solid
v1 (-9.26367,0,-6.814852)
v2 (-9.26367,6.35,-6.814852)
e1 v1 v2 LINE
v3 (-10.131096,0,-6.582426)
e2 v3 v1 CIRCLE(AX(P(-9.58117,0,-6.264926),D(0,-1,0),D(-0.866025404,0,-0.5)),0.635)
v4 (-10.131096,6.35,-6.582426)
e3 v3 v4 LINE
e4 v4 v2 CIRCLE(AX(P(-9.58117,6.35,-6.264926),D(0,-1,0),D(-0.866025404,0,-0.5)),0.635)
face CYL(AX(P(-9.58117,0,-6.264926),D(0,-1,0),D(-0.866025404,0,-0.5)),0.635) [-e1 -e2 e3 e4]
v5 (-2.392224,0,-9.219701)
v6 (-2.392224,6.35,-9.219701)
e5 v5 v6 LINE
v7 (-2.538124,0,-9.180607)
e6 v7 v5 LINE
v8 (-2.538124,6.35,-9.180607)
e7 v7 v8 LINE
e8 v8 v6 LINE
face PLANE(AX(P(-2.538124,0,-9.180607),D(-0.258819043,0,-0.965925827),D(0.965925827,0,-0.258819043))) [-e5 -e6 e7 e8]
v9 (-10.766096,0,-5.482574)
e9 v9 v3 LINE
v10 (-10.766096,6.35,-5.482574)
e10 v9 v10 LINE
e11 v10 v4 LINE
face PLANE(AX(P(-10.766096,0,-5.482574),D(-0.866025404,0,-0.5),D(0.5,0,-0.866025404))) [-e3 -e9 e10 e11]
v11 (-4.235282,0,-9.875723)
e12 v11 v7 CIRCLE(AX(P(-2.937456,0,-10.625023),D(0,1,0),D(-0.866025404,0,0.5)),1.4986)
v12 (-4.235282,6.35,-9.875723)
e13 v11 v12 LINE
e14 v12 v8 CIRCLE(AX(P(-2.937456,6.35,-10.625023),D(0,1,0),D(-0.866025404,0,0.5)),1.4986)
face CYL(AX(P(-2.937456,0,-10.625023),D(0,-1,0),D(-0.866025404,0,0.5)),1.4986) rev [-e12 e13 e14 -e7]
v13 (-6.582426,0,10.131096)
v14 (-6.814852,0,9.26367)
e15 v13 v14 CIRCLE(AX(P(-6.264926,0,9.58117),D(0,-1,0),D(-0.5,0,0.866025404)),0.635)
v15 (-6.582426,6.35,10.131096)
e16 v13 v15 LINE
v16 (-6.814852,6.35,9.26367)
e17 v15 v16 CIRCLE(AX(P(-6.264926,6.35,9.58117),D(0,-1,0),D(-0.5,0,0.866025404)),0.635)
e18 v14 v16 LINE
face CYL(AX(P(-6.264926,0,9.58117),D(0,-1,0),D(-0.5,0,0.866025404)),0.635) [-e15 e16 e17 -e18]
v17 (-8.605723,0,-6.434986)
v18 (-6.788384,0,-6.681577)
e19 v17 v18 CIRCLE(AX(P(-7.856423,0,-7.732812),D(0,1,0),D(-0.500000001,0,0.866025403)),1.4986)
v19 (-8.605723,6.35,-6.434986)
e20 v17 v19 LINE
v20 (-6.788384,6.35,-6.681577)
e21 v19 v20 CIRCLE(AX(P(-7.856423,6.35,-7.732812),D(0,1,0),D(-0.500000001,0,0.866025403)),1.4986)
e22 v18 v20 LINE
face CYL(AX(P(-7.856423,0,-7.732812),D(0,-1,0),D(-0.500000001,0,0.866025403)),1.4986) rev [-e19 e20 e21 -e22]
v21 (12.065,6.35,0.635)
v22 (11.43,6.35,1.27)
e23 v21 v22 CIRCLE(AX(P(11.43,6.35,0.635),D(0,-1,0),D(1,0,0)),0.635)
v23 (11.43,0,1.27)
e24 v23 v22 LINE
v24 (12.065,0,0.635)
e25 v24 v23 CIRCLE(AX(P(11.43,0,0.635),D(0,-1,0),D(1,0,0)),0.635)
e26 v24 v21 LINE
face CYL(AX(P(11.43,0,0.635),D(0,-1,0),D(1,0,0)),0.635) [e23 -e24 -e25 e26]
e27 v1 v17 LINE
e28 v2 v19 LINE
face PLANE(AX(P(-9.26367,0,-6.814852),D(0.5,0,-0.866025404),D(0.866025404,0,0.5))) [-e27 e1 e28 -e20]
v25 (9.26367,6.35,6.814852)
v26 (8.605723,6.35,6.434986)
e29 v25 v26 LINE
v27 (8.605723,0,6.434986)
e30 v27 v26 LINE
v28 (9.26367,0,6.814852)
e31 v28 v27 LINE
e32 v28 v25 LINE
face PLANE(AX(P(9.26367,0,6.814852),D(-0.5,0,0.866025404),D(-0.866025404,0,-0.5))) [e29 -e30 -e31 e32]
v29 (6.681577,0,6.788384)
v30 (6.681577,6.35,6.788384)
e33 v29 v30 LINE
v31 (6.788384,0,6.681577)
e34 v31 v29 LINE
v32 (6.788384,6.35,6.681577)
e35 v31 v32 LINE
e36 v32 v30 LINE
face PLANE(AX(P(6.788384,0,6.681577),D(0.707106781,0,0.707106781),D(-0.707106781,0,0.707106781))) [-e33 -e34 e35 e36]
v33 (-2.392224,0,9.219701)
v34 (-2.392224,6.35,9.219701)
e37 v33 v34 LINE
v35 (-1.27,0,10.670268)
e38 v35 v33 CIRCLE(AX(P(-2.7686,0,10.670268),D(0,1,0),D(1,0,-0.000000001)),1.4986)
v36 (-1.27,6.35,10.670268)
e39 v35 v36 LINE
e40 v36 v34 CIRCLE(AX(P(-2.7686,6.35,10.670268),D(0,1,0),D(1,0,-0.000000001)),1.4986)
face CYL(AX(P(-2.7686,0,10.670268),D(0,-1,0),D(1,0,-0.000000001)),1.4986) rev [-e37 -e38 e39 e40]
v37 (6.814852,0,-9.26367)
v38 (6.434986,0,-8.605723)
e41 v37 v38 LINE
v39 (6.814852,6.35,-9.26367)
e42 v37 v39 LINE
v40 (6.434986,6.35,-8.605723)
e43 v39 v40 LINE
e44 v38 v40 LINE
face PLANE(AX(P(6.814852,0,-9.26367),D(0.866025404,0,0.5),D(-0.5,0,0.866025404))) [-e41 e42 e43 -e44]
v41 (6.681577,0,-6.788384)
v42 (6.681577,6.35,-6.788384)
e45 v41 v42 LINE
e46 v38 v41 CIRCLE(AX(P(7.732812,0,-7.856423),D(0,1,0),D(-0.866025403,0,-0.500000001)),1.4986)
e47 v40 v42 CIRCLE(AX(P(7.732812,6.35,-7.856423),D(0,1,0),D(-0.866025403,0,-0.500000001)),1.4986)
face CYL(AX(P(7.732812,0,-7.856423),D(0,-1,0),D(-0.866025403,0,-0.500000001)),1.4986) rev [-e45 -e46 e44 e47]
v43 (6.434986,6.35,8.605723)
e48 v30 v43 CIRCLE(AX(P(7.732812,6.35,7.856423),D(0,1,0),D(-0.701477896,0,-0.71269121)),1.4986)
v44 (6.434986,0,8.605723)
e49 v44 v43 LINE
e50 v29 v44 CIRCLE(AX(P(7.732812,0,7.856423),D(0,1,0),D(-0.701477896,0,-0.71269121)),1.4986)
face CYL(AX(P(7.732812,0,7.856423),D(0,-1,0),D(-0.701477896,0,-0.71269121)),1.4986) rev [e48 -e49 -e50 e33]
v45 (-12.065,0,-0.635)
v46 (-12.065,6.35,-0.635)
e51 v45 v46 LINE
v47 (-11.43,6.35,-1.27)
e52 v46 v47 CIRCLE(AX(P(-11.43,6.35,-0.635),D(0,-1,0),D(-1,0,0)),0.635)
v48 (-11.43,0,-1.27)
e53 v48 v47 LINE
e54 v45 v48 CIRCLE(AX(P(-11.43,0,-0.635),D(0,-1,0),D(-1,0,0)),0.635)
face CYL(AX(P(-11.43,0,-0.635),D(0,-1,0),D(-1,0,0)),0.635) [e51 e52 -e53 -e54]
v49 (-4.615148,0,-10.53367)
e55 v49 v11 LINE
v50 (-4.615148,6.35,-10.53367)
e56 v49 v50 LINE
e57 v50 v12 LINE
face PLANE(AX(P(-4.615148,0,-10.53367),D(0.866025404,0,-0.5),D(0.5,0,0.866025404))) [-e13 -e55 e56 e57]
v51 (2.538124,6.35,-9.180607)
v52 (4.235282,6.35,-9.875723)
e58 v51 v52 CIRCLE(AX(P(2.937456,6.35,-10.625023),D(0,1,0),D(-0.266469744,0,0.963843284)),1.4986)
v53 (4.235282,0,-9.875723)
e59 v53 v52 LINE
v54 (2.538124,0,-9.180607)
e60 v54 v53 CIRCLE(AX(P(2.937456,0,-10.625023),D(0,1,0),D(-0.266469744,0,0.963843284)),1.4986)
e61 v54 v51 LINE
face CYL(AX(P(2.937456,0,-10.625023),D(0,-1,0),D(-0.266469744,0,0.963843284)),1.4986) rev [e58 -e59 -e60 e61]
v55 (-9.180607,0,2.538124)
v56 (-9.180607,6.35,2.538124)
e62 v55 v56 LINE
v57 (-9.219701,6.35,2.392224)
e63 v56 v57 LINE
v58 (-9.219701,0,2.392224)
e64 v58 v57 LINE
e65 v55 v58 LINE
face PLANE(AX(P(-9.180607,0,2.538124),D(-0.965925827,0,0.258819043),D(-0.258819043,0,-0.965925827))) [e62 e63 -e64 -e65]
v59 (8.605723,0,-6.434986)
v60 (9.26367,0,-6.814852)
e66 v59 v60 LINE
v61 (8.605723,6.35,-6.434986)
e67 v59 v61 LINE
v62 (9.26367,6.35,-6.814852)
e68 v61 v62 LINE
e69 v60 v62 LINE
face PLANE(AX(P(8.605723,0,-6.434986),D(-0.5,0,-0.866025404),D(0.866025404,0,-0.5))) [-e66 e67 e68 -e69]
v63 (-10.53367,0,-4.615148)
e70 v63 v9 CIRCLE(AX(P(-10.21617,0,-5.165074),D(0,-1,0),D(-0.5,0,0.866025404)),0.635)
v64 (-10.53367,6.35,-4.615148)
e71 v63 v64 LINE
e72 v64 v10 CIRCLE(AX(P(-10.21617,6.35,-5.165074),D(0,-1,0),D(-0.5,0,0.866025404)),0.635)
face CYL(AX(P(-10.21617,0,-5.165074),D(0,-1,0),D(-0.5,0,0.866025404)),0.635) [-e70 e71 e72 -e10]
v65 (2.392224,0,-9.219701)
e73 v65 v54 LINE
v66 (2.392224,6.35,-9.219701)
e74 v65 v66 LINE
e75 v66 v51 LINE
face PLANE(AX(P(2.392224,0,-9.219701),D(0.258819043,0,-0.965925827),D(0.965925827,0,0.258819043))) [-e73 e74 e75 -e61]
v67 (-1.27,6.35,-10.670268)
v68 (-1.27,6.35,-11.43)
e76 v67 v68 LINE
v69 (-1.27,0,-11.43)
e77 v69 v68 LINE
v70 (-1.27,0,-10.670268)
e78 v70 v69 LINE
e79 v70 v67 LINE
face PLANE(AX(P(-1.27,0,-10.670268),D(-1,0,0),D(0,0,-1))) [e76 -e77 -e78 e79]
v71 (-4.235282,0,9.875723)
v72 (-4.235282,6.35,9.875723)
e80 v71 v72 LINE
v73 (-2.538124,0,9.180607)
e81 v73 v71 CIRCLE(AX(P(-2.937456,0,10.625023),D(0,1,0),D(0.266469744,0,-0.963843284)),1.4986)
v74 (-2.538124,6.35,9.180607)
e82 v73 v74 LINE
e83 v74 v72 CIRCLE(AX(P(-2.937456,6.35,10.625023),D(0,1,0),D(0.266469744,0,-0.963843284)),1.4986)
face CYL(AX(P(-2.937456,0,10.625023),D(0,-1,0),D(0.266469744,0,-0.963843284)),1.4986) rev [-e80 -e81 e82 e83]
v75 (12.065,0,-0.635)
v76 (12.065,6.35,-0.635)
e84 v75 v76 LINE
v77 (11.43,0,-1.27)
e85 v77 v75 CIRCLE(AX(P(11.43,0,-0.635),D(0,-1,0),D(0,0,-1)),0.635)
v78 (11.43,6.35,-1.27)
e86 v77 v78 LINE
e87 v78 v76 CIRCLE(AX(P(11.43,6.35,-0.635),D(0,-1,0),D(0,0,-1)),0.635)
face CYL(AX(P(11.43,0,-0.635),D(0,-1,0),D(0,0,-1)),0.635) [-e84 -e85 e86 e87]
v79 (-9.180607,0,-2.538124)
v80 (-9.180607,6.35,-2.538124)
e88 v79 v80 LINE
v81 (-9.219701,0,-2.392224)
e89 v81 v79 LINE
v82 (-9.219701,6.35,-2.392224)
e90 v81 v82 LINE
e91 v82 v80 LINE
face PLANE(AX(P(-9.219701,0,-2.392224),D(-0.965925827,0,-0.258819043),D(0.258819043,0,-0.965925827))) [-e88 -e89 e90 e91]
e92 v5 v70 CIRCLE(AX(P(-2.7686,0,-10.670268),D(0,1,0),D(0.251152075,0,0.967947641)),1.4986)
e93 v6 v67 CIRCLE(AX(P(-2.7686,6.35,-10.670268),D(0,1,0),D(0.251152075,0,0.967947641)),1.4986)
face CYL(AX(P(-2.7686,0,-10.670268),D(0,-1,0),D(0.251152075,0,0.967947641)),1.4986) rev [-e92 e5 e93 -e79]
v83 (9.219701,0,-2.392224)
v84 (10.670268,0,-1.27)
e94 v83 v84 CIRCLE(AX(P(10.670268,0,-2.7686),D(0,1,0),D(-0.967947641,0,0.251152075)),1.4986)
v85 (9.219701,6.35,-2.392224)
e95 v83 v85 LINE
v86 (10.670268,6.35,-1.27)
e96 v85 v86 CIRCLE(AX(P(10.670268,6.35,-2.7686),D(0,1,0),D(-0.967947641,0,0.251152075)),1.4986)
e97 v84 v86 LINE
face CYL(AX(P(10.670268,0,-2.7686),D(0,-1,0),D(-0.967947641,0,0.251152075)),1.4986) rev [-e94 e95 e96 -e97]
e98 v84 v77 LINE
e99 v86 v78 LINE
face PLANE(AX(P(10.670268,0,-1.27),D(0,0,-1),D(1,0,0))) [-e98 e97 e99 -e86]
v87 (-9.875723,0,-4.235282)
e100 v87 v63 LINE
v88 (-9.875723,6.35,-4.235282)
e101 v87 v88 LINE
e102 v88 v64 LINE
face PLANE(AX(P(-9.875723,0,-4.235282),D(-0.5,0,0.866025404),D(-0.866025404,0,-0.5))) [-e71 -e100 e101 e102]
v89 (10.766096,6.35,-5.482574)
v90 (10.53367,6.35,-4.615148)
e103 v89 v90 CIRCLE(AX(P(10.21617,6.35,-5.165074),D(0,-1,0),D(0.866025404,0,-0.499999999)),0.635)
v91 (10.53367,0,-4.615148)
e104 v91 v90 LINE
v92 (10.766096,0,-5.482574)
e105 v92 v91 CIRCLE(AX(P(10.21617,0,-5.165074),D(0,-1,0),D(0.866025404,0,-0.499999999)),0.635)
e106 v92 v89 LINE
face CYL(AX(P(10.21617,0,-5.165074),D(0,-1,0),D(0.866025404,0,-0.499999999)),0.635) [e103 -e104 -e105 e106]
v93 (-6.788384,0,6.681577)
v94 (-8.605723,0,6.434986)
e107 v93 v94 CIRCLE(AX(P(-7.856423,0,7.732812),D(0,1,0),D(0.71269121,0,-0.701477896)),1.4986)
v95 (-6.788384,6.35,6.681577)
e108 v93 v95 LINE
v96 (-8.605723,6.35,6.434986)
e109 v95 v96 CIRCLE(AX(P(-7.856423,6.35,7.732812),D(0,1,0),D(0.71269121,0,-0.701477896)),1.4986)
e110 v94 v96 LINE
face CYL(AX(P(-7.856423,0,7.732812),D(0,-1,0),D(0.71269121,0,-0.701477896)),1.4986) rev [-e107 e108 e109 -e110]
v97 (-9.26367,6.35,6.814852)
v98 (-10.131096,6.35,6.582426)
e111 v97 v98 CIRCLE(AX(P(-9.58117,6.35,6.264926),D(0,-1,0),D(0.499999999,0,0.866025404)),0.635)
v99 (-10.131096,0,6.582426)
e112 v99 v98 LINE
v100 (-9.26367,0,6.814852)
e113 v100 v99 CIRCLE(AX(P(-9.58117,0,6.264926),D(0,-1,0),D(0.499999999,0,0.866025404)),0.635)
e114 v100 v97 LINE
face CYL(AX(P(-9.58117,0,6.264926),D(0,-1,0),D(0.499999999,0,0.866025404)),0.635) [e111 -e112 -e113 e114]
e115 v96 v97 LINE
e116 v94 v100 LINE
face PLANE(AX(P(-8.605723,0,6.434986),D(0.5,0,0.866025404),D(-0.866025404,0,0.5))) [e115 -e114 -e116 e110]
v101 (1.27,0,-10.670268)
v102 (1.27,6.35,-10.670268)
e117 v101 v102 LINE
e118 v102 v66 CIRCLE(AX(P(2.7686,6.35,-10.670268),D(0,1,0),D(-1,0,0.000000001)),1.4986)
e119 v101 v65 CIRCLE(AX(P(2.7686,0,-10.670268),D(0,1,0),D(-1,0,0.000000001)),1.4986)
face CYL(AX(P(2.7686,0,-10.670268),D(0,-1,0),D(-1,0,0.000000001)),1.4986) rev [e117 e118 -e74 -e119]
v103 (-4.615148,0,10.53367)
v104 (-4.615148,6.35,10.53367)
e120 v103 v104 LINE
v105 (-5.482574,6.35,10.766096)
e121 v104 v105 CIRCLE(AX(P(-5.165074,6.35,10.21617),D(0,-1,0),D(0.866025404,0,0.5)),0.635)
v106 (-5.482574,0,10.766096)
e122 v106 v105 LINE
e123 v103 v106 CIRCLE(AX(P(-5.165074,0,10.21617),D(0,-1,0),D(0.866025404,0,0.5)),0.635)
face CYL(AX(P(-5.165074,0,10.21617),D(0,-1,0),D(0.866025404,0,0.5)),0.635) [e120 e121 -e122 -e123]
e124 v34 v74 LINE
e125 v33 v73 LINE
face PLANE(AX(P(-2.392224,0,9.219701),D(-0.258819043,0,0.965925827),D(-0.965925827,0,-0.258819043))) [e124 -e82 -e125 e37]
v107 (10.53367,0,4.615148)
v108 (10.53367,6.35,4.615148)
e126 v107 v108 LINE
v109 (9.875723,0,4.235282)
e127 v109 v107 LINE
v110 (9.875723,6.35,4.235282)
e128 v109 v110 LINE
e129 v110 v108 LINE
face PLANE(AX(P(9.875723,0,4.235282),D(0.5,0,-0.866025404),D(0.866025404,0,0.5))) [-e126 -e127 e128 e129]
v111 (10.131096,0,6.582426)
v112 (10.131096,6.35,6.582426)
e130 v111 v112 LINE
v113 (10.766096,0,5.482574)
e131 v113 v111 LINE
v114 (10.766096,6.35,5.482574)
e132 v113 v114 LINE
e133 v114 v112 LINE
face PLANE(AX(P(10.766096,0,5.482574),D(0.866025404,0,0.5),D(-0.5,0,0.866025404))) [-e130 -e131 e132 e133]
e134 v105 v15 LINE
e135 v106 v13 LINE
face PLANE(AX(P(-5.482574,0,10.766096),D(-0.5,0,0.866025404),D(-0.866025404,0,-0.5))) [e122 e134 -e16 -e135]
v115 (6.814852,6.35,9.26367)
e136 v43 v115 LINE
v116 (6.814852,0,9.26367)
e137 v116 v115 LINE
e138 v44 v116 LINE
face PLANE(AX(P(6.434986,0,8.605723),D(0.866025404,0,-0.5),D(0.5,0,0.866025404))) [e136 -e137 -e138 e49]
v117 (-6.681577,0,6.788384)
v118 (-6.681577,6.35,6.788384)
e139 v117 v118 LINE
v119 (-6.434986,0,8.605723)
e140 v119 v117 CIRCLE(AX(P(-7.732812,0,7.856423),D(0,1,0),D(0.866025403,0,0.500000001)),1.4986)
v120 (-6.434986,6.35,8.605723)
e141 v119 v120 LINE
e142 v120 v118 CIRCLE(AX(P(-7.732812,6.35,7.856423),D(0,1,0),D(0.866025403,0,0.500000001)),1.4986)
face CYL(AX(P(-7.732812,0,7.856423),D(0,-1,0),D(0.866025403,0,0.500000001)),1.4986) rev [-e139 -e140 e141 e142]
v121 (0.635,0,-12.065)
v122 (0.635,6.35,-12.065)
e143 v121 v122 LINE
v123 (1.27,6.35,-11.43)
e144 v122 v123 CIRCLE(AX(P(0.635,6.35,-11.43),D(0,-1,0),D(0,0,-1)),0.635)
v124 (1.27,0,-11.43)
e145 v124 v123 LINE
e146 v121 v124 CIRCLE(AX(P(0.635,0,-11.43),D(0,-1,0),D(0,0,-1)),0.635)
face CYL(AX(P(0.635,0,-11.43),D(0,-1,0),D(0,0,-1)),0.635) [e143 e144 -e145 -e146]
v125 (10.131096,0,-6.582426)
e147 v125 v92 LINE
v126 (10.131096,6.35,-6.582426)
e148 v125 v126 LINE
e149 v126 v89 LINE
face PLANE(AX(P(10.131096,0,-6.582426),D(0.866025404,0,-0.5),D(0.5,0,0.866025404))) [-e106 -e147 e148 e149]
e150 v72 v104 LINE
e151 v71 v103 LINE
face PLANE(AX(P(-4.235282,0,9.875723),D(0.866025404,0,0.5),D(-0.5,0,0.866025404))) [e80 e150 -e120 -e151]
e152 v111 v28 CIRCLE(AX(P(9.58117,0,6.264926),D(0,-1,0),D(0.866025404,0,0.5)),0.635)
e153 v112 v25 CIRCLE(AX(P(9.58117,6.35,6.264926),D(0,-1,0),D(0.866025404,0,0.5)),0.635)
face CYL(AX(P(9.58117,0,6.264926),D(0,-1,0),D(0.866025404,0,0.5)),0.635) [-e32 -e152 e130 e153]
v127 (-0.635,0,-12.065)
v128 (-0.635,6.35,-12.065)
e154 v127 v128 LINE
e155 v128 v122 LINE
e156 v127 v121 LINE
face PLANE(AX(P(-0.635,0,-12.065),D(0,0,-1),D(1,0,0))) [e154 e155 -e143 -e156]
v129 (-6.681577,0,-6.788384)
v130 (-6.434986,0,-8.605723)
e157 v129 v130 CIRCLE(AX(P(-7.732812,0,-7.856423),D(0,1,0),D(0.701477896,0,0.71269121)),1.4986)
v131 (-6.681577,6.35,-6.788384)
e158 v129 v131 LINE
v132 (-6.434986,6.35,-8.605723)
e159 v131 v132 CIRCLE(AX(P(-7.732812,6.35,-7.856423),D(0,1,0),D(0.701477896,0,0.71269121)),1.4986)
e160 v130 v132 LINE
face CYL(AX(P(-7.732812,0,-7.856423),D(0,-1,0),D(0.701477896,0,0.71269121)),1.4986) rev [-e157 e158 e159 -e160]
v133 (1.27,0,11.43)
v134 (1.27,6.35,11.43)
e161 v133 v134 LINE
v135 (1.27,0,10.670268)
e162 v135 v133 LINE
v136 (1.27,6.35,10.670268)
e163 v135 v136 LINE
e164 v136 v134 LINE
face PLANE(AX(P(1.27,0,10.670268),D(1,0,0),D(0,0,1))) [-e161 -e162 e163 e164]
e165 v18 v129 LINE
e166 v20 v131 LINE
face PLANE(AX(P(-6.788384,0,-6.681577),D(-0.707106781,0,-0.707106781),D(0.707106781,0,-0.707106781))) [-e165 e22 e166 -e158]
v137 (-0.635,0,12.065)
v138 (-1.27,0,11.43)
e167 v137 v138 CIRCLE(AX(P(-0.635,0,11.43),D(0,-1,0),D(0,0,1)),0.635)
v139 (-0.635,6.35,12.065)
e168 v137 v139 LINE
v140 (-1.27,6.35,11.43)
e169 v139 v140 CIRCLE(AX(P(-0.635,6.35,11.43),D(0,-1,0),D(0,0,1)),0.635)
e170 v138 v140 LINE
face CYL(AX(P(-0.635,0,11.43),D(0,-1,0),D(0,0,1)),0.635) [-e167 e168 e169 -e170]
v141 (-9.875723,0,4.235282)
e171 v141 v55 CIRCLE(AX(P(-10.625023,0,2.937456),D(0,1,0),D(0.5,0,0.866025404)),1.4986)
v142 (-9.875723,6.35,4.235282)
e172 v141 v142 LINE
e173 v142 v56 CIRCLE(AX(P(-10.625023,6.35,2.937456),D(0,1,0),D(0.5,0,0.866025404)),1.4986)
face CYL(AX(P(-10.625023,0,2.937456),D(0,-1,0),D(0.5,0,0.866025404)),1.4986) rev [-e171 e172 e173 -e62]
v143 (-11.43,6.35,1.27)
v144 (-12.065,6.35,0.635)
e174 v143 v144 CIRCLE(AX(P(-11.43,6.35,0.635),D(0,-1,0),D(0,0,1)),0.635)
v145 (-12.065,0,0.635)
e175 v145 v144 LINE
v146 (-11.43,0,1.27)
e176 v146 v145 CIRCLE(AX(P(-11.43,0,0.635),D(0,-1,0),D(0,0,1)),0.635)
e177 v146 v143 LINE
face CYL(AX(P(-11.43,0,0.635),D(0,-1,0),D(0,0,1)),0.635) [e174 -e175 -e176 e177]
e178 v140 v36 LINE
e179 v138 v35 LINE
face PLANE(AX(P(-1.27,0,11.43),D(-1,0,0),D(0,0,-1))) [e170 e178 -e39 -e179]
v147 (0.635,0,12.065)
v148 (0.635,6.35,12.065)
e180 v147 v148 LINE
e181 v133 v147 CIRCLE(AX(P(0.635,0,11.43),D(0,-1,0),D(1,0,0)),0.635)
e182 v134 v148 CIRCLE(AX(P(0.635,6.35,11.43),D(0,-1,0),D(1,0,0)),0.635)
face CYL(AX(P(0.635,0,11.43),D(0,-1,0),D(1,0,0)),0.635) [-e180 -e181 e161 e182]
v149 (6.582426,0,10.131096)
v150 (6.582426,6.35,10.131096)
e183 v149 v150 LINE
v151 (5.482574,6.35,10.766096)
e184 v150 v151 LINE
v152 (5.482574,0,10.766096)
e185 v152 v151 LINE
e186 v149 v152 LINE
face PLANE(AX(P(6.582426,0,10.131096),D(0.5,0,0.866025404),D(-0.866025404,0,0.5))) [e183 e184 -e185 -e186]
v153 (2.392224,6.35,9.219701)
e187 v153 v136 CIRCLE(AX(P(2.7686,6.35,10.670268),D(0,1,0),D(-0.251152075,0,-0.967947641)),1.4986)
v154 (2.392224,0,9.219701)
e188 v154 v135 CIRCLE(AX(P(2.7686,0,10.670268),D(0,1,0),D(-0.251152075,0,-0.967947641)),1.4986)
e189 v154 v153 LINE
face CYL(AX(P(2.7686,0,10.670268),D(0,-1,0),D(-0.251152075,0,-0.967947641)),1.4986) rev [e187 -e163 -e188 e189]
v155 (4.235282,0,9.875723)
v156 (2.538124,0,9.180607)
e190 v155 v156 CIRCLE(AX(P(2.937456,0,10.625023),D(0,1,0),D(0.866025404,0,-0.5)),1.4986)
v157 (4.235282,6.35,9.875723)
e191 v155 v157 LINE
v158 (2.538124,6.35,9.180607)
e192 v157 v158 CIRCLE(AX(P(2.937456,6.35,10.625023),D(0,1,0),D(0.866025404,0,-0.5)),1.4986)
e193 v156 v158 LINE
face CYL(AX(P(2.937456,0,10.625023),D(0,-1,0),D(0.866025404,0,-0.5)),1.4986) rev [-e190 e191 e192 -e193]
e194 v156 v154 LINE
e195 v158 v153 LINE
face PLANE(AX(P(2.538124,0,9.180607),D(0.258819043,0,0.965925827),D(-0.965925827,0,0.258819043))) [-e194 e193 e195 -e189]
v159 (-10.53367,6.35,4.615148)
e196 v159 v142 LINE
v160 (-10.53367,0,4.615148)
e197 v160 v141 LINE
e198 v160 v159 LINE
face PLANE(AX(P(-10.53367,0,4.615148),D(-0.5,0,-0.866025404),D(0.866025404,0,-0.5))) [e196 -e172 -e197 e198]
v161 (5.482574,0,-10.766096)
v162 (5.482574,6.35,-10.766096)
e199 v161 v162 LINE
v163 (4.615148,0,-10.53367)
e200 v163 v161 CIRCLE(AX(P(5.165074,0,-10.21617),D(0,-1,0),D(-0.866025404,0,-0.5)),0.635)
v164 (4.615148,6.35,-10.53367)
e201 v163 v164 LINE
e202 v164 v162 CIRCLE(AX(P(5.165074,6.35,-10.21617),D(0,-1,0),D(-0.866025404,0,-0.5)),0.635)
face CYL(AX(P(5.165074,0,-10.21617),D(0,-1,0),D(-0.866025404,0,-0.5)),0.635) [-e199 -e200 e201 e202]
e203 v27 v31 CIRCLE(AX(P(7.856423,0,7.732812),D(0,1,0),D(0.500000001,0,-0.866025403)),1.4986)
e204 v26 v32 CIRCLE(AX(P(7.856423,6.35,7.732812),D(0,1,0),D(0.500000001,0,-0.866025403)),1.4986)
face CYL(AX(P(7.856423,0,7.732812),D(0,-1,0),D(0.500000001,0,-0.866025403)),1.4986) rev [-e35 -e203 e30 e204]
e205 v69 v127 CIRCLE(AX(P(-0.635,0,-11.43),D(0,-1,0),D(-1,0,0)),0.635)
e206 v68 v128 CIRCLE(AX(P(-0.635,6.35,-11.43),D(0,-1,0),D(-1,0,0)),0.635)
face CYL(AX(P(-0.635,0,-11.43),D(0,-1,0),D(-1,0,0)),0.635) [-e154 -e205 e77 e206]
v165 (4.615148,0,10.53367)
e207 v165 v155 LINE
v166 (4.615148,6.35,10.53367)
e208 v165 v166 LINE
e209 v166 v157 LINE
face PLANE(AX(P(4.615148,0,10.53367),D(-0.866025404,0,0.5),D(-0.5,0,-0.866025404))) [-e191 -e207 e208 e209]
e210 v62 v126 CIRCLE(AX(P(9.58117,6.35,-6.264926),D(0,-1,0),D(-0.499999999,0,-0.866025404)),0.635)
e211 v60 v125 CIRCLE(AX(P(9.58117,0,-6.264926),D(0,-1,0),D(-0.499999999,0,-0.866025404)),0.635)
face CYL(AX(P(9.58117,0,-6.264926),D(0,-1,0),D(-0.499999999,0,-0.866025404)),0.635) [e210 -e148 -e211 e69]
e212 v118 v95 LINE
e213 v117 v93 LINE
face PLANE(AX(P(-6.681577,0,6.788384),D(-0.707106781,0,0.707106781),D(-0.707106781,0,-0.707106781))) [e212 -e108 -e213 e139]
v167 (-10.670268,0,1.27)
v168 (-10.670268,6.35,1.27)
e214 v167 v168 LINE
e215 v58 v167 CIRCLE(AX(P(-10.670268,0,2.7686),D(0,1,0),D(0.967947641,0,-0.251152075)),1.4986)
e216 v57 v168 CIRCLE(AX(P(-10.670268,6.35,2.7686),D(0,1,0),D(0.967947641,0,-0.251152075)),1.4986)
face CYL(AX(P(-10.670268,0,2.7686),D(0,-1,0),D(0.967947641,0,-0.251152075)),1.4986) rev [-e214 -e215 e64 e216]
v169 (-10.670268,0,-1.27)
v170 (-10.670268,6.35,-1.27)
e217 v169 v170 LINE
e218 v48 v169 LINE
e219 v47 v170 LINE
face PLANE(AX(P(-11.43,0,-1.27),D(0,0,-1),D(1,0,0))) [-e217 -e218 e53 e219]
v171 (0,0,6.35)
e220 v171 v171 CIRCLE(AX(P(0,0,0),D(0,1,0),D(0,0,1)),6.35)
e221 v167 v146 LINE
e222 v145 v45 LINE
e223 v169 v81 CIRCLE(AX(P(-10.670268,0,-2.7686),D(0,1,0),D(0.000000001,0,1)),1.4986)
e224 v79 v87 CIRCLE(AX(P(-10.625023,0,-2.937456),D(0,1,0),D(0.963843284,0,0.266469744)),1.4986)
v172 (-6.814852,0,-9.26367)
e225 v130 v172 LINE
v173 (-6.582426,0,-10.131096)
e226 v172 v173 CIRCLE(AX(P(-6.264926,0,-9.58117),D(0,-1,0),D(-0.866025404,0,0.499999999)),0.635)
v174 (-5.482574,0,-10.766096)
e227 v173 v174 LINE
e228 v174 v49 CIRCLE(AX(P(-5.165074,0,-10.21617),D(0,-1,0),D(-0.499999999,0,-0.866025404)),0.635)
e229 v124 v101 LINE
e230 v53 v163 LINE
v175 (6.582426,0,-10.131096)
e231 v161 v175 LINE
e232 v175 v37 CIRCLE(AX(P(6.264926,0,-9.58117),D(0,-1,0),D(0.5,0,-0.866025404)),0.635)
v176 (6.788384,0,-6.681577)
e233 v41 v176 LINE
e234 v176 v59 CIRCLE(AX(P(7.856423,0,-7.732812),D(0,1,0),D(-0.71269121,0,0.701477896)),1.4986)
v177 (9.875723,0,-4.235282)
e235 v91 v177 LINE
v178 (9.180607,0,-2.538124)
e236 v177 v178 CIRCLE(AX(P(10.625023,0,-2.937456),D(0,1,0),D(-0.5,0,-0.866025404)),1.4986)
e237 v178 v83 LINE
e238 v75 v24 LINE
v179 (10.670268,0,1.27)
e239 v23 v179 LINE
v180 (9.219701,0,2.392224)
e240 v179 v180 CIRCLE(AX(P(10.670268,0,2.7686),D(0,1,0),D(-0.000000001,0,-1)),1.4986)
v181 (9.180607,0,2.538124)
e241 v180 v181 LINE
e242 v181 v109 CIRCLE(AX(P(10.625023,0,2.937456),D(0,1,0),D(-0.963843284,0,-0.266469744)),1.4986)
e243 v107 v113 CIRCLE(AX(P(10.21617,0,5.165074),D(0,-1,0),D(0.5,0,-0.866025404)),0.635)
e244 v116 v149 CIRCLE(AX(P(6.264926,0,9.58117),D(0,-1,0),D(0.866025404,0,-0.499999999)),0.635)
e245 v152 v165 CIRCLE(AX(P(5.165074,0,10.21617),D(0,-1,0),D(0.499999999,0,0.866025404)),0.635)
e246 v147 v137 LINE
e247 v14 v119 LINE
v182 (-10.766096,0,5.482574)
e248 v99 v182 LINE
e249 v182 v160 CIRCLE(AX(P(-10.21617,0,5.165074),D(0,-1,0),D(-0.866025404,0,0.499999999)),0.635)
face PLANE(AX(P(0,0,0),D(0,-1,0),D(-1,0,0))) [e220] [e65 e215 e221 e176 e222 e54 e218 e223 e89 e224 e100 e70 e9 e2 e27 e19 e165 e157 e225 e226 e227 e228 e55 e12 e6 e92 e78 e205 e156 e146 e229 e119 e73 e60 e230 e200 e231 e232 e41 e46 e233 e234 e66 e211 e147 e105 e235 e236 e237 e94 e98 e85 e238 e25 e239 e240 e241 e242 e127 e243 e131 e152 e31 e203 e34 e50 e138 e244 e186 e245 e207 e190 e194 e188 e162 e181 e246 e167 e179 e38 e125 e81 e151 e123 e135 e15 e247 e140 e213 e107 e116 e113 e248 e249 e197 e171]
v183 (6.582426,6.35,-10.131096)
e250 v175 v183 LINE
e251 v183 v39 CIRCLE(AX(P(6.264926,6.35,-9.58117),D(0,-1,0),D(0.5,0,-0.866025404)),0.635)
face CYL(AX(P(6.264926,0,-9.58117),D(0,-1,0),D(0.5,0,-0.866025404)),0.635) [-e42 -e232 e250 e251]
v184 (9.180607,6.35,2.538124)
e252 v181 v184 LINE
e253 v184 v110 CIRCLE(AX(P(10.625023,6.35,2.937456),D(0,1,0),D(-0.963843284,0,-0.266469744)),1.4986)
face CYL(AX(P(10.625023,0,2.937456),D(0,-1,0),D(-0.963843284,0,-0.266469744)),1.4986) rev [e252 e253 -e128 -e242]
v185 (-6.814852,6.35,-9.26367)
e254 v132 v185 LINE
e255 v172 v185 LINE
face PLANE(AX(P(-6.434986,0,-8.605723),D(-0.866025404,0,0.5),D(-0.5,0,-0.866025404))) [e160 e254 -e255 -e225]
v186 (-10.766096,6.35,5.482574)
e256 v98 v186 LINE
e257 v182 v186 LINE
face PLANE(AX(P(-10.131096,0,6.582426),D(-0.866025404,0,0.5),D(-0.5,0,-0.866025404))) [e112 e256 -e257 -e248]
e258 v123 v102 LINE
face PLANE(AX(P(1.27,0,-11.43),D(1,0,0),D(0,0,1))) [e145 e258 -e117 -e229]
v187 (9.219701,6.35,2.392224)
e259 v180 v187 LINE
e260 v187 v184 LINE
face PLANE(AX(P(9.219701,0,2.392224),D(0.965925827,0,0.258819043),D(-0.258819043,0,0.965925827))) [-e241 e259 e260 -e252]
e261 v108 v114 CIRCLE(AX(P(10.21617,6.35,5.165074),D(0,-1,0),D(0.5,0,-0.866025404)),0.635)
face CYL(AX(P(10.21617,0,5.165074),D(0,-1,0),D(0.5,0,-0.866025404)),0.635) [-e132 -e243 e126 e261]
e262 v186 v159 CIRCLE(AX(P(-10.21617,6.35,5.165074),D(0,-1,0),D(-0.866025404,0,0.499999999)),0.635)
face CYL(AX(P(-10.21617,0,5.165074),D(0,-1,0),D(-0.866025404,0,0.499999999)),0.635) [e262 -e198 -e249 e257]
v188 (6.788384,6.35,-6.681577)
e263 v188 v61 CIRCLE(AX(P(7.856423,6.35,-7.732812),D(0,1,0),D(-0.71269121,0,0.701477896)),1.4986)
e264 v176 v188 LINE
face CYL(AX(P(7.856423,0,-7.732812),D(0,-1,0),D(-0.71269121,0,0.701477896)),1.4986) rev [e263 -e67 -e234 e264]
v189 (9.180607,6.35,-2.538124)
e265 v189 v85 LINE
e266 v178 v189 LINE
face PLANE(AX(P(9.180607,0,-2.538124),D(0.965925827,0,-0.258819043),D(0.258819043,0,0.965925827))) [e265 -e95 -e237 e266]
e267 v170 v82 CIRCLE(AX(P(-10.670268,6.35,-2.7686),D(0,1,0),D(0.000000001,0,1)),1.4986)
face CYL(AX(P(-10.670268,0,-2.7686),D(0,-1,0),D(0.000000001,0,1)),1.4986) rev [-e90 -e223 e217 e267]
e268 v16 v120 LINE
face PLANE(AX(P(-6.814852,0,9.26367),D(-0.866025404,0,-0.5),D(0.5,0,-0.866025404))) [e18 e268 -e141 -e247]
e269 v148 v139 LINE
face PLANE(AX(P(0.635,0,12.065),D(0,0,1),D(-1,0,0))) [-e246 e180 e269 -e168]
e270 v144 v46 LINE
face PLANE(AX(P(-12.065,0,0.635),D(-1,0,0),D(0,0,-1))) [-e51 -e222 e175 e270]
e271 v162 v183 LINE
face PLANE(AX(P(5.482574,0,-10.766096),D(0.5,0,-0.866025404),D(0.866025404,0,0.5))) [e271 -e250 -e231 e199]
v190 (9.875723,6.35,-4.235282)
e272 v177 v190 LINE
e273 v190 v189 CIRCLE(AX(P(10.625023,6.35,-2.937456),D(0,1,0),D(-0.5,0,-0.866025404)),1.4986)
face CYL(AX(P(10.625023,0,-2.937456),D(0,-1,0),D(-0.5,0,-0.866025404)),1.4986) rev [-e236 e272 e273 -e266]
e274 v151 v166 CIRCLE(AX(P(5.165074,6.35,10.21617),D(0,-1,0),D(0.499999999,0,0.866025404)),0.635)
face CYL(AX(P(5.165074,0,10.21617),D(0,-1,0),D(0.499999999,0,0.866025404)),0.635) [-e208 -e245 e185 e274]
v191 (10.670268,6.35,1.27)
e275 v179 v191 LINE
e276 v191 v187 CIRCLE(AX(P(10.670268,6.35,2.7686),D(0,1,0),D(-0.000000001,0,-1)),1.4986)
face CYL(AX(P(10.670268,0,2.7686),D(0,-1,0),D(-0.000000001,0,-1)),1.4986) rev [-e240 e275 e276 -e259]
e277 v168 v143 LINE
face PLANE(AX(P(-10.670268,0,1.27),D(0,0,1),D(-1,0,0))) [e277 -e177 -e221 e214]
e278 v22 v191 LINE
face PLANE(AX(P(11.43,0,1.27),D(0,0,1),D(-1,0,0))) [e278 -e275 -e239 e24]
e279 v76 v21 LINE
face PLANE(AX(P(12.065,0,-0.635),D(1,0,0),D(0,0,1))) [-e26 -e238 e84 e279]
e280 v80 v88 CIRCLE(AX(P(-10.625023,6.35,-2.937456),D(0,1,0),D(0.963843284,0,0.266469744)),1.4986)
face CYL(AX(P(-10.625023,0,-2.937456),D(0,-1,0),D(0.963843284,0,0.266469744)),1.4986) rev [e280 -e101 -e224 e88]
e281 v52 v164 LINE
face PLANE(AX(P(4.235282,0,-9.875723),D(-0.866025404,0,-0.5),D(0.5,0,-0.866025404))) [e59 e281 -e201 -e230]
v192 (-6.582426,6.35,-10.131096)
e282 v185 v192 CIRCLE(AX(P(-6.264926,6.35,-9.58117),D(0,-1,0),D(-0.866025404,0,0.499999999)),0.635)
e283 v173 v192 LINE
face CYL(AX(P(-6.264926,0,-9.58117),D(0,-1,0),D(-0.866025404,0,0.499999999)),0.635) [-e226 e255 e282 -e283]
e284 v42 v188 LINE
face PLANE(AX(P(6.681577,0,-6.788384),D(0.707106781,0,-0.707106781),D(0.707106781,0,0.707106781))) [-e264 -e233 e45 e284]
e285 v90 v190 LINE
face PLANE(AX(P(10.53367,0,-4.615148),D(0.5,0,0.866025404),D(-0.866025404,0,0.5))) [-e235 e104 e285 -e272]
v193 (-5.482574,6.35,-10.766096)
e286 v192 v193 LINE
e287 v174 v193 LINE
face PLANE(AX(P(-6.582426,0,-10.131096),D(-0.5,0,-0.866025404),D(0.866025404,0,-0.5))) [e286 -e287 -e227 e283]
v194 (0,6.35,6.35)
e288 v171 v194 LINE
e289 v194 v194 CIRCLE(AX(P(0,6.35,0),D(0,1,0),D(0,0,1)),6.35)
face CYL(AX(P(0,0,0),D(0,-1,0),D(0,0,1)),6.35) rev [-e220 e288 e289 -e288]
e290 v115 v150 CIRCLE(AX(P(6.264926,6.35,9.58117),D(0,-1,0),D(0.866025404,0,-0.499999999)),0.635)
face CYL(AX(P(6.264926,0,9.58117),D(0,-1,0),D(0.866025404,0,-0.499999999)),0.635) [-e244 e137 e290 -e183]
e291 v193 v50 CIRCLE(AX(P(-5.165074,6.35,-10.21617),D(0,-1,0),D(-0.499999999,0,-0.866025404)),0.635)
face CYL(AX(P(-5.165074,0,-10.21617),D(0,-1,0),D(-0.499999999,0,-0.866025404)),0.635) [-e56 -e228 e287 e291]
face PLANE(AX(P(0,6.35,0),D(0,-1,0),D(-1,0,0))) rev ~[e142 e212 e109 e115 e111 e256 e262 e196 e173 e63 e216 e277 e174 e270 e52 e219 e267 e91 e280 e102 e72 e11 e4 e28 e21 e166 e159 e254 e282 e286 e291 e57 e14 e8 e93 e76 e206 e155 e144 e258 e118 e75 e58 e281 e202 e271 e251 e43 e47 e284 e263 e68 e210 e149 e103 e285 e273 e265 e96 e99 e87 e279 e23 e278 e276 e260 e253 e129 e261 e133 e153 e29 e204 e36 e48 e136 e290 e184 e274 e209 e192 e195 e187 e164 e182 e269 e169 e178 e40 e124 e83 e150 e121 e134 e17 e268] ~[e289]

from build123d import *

# Parameters (mm, degrees)
SKETCH1_R           = 6.35
BOSS_EXTRUDE1_DEPTH = 6.35


with BuildPart() as part:
    # Sketch1 → Boss-Extrude1 (new body)
    with BuildSketch(Plane(origin=(0, 0, 0), x_dir=(1, 0, 0), z_dir=(0, 1, 0))):
        with BuildLine():
            Line((-1.27, 10.670267616), (-1.27, 11.43))
            ThreePointArc((-1.27, 11.43), (-1.084012806, 11.879012806), (-0.635, 12.065))
            Line((-0.635, 12.065), (0.635, 12.065))
            ThreePointArc((0.635, 12.065), (1.084012806, 11.879012806), (1.27, 11.43))
            Line((1.27, 11.43), (1.27, 10.670267616))
            ThreePointArc((1.27, 10.670267616), (1.583306834, 9.753271395), (2.392223502, 9.219701281))
            Line((2.392223502, 9.219701281), (2.538124316, 9.180607276))
            ThreePointArc((2.538124316, 9.180607276), (3.505451757, 9.238234215), (4.235281545, 9.875722821))
            Line((4.235281545, 9.875722821), (4.615147737, 10.533670365))
            ThreePointArc((4.615147737, 10.533670365), (5.000723775, 10.829533265), (5.482573869, 10.766096497))
            Line((5.482573869, 10.766096497), (6.582426131, 10.131096497))
            ThreePointArc((6.582426131, 10.131096497), (6.878289031, 9.745520459), (6.814852263, 9.263670365))
            Line((6.814852263, 9.263670365), (6.434986071, 8.605722821))
            ThreePointArc((6.434986071, 8.605722821), (6.247819637, 7.654927381), (6.681576965, 6.788383774))
            Line((6.681576965, 6.788383774), (6.788383774, 6.681576965))
            ThreePointArc((6.788383774, 6.681576965), (7.654927381, 6.247819637), (8.605722821, 6.434986071))
            Line((8.605722821, 6.434986071), (9.263670365, 6.814852263))
            ThreePointArc((9.263670365, 6.814852263), (9.745520459, 6.878289031), (10.131096497, 6.582426131))
            Line((10.131096497, 6.582426131), (10.766096497, 5.482573869))
            ThreePointArc((10.766096497, 5.482573869), (10.829533265, 5.000723775), (10.533670365, 4.615147737))
            Line((10.533670365, 4.615147737), (9.875722821, 4.235281545))
            ThreePointArc((9.875722821, 4.235281545), (9.238234215, 3.505451757), (9.180607276, 2.538124316))
            Line((9.180607276, 2.538124316), (9.219701281, 2.392223502))
            ThreePointArc((9.219701281, 2.392223502), (9.753271395, 1.583306834), (10.670267616, 1.27))
            Line((10.670267616, 1.27), (11.43, 1.27))
            ThreePointArc((11.43, 1.27), (11.879012806, 1.084012806), (12.065, 0.635))
            Line((12.065, 0.635), (12.065, -0.635))
            ThreePointArc((12.065, -0.635), (11.879012806, -1.084012806), (11.43, -1.27))
            Line((11.43, -1.27), (10.670267616, -1.27))
            ThreePointArc((10.670267616, -1.27), (9.753271395, -1.583306834), (9.219701281, -2.392223502))
            Line((9.219701281, -2.392223502), (9.180607276, -2.538124316))
            ThreePointArc((9.180607276, -2.538124316), (9.238234215, -3.505451757), (9.875722821, -4.235281545))
            Line((9.875722821, -4.235281545), (10.533670365, -4.615147737))
            ThreePointArc((10.533670365, -4.615147737), (10.829533265, -5.000723775), (10.766096497, -5.482573869))
            Line((10.766096497, -5.482573869), (10.131096497, -6.582426131))
            ThreePointArc((10.131096497, -6.582426131), (9.745520459, -6.878289031), (9.263670365, -6.814852263))
            Line((9.263670365, -6.814852263), (8.605722821, -6.434986071))
            ThreePointArc((8.605722821, -6.434986071), (7.654927381, -6.247819637), (6.788383774, -6.681576965))
            Line((6.788383774, -6.681576965), (6.681576965, -6.788383774))
            ThreePointArc((6.681576965, -6.788383774), (6.247819637, -7.654927381), (6.434986071, -8.605722821))
            Line((6.434986071, -8.605722821), (6.814852263, -9.263670365))
            ThreePointArc((6.814852263, -9.263670365), (6.878289031, -9.745520459), (6.582426131, -10.131096497))
            Line((6.582426131, -10.131096497), (5.482573869, -10.766096497))
            ThreePointArc((5.482573869, -10.766096497), (5.000723775, -10.829533265), (4.615147737, -10.533670365))
            Line((4.615147737, -10.533670365), (4.235281545, -9.875722821))
            ThreePointArc((4.235281545, -9.875722821), (3.505451757, -9.238234215), (2.538124316, -9.180607276))
            Line((2.538124316, -9.180607276), (2.392223502, -9.219701281))
            ThreePointArc((2.392223502, -9.219701281), (1.583306834, -9.753271395), (1.27, -10.670267616))
            Line((1.27, -10.670267616), (1.27, -11.43))
            ThreePointArc((1.27, -11.43), (1.084012806, -11.879012806), (0.635, -12.065))
            Line((0.635, -12.065), (-0.635, -12.065))
            ThreePointArc((-0.635, -12.065), (-1.084012806, -11.879012806), (-1.27, -11.43))
            Line((-1.27, -11.43), (-1.27, -10.670267616))
            ThreePointArc((-1.27, -10.670267616), (-1.583306834, -9.753271395), (-2.392223502, -9.219701281))
            Line((-2.392223502, -9.219701281), (-2.538124316, -9.180607276))
            ThreePointArc((-2.538124316, -9.180607276), (-3.505451757, -9.238234215), (-4.235281545, -9.875722821))
            Line((-4.235281545, -9.875722821), (-4.615147737, -10.533670365))
            ThreePointArc((-4.615147737, -10.533670365), (-5.000723775, -10.829533265), (-5.482573869, -10.766096497))
            Line((-5.482573869, -10.766096497), (-6.582426131, -10.131096497))
            ThreePointArc((-6.582426131, -10.131096497), (-6.878289031, -9.745520459), (-6.814852263, -9.263670365))
            Line((-6.814852263, -9.263670365), (-6.434986071, -8.605722821))
            ThreePointArc((-6.434986071, -8.605722821), (-6.247819637, -7.654927381), (-6.681576965, -6.788383774))
            Line((-6.681576965, -6.788383774), (-6.788383774, -6.681576965))
            ThreePointArc((-6.788383774, -6.681576965), (-7.654927381, -6.247819637), (-8.605722821, -6.434986071))
            Line((-8.605722821, -6.434986071), (-9.263670365, -6.814852263))
            ThreePointArc((-9.263670365, -6.814852263), (-9.745520459, -6.878289031), (-10.131096497, -6.582426131))
            Line((-10.131096497, -6.582426131), (-10.766096497, -5.482573869))
            ThreePointArc((-10.766096497, -5.482573869), (-10.829533265, -5.000723775), (-10.533670365, -4.615147737))
            Line((-10.533670365, -4.615147737), (-9.875722821, -4.235281545))
            ThreePointArc((-9.875722821, -4.235281545), (-9.238234215, -3.505451757), (-9.180607276, -2.538124316))
            Line((-9.180607276, -2.538124316), (-9.219701281, -2.392223502))
            ThreePointArc((-9.219701281, -2.392223502), (-9.753271395, -1.583306834), (-10.670267616, -1.27))
            Line((-10.670267616, -1.27), (-11.43, -1.27))
            ThreePointArc((-11.43, -1.27), (-11.879012806, -1.084012806), (-12.065, -0.635))
            Line((-12.065, -0.635), (-12.065, 0.635))
            ThreePointArc((-12.065, 0.635), (-11.879012806, 1.084012806), (-11.43, 1.27))
            Line((-11.43, 1.27), (-10.670267616, 1.27))
            ThreePointArc((-10.670267616, 1.27), (-9.753271395, 1.583306834), (-9.219701281, 2.392223502))
            Line((-9.219701281, 2.392223502), (-9.180607276, 2.538124316))
            ThreePointArc((-9.180607276, 2.538124316), (-9.238234215, 3.505451757), (-9.875722821, 4.235281545))
            Line((-9.875722821, 4.235281545), (-10.533670365, 4.615147737))
            ThreePointArc((-10.533670365, 4.615147737), (-10.829533265, 5.000723775), (-10.766096497, 5.482573869))
            Line((-10.766096497, 5.482573869), (-10.131096497, 6.582426131))
            ThreePointArc((-10.131096497, 6.582426131), (-9.745520459, 6.878289031), (-9.263670365, 6.814852263))
            Line((-9.263670365, 6.814852263), (-8.605722821, 6.434986071))
            ThreePointArc((-8.605722821, 6.434986071), (-7.654927381, 6.247819637), (-6.788383774, 6.681576965))
            Line((-6.788383774, 6.681576965), (-6.681576965, 6.788383774))
            ThreePointArc((-6.681576965, 6.788383774), (-6.247819637, 7.654927381), (-6.434986071, 8.605722821))
            Line((-6.434986071, 8.605722821), (-6.814852263, 9.263670365))
            ThreePointArc((-6.814852263, 9.263670365), (-6.878289031, 9.745520459), (-6.582426131, 10.131096497))
            Line((-6.582426131, 10.131096497), (-5.482573869, 10.766096497))
            ThreePointArc((-5.482573869, 10.766096497), (-5.000723775, 10.829533265), (-4.615147737, 10.533670365))
            Line((-4.615147737, 10.533670365), (-4.235281545, 9.875722821))
            ThreePointArc((-4.235281545, 9.875722821), (-3.505451757, 9.238234215), (-2.538124316, 9.180607276))
            Line((-2.538124316, 9.180607276), (-2.392223502, 9.219701281))
            ThreePointArc((-2.392223502, 9.219701281), (-1.583306834, 9.753271395), (-1.27, 10.670267616))
        make_face()
        with Locations(Location((0, 0, 0), (0, 0, 270))):
            Circle(SKETCH1_R, mode=Mode.SUBTRACT)
    extrude(amount=BOSS_EXTRUDE1_DEPTH)


solid = part.part
